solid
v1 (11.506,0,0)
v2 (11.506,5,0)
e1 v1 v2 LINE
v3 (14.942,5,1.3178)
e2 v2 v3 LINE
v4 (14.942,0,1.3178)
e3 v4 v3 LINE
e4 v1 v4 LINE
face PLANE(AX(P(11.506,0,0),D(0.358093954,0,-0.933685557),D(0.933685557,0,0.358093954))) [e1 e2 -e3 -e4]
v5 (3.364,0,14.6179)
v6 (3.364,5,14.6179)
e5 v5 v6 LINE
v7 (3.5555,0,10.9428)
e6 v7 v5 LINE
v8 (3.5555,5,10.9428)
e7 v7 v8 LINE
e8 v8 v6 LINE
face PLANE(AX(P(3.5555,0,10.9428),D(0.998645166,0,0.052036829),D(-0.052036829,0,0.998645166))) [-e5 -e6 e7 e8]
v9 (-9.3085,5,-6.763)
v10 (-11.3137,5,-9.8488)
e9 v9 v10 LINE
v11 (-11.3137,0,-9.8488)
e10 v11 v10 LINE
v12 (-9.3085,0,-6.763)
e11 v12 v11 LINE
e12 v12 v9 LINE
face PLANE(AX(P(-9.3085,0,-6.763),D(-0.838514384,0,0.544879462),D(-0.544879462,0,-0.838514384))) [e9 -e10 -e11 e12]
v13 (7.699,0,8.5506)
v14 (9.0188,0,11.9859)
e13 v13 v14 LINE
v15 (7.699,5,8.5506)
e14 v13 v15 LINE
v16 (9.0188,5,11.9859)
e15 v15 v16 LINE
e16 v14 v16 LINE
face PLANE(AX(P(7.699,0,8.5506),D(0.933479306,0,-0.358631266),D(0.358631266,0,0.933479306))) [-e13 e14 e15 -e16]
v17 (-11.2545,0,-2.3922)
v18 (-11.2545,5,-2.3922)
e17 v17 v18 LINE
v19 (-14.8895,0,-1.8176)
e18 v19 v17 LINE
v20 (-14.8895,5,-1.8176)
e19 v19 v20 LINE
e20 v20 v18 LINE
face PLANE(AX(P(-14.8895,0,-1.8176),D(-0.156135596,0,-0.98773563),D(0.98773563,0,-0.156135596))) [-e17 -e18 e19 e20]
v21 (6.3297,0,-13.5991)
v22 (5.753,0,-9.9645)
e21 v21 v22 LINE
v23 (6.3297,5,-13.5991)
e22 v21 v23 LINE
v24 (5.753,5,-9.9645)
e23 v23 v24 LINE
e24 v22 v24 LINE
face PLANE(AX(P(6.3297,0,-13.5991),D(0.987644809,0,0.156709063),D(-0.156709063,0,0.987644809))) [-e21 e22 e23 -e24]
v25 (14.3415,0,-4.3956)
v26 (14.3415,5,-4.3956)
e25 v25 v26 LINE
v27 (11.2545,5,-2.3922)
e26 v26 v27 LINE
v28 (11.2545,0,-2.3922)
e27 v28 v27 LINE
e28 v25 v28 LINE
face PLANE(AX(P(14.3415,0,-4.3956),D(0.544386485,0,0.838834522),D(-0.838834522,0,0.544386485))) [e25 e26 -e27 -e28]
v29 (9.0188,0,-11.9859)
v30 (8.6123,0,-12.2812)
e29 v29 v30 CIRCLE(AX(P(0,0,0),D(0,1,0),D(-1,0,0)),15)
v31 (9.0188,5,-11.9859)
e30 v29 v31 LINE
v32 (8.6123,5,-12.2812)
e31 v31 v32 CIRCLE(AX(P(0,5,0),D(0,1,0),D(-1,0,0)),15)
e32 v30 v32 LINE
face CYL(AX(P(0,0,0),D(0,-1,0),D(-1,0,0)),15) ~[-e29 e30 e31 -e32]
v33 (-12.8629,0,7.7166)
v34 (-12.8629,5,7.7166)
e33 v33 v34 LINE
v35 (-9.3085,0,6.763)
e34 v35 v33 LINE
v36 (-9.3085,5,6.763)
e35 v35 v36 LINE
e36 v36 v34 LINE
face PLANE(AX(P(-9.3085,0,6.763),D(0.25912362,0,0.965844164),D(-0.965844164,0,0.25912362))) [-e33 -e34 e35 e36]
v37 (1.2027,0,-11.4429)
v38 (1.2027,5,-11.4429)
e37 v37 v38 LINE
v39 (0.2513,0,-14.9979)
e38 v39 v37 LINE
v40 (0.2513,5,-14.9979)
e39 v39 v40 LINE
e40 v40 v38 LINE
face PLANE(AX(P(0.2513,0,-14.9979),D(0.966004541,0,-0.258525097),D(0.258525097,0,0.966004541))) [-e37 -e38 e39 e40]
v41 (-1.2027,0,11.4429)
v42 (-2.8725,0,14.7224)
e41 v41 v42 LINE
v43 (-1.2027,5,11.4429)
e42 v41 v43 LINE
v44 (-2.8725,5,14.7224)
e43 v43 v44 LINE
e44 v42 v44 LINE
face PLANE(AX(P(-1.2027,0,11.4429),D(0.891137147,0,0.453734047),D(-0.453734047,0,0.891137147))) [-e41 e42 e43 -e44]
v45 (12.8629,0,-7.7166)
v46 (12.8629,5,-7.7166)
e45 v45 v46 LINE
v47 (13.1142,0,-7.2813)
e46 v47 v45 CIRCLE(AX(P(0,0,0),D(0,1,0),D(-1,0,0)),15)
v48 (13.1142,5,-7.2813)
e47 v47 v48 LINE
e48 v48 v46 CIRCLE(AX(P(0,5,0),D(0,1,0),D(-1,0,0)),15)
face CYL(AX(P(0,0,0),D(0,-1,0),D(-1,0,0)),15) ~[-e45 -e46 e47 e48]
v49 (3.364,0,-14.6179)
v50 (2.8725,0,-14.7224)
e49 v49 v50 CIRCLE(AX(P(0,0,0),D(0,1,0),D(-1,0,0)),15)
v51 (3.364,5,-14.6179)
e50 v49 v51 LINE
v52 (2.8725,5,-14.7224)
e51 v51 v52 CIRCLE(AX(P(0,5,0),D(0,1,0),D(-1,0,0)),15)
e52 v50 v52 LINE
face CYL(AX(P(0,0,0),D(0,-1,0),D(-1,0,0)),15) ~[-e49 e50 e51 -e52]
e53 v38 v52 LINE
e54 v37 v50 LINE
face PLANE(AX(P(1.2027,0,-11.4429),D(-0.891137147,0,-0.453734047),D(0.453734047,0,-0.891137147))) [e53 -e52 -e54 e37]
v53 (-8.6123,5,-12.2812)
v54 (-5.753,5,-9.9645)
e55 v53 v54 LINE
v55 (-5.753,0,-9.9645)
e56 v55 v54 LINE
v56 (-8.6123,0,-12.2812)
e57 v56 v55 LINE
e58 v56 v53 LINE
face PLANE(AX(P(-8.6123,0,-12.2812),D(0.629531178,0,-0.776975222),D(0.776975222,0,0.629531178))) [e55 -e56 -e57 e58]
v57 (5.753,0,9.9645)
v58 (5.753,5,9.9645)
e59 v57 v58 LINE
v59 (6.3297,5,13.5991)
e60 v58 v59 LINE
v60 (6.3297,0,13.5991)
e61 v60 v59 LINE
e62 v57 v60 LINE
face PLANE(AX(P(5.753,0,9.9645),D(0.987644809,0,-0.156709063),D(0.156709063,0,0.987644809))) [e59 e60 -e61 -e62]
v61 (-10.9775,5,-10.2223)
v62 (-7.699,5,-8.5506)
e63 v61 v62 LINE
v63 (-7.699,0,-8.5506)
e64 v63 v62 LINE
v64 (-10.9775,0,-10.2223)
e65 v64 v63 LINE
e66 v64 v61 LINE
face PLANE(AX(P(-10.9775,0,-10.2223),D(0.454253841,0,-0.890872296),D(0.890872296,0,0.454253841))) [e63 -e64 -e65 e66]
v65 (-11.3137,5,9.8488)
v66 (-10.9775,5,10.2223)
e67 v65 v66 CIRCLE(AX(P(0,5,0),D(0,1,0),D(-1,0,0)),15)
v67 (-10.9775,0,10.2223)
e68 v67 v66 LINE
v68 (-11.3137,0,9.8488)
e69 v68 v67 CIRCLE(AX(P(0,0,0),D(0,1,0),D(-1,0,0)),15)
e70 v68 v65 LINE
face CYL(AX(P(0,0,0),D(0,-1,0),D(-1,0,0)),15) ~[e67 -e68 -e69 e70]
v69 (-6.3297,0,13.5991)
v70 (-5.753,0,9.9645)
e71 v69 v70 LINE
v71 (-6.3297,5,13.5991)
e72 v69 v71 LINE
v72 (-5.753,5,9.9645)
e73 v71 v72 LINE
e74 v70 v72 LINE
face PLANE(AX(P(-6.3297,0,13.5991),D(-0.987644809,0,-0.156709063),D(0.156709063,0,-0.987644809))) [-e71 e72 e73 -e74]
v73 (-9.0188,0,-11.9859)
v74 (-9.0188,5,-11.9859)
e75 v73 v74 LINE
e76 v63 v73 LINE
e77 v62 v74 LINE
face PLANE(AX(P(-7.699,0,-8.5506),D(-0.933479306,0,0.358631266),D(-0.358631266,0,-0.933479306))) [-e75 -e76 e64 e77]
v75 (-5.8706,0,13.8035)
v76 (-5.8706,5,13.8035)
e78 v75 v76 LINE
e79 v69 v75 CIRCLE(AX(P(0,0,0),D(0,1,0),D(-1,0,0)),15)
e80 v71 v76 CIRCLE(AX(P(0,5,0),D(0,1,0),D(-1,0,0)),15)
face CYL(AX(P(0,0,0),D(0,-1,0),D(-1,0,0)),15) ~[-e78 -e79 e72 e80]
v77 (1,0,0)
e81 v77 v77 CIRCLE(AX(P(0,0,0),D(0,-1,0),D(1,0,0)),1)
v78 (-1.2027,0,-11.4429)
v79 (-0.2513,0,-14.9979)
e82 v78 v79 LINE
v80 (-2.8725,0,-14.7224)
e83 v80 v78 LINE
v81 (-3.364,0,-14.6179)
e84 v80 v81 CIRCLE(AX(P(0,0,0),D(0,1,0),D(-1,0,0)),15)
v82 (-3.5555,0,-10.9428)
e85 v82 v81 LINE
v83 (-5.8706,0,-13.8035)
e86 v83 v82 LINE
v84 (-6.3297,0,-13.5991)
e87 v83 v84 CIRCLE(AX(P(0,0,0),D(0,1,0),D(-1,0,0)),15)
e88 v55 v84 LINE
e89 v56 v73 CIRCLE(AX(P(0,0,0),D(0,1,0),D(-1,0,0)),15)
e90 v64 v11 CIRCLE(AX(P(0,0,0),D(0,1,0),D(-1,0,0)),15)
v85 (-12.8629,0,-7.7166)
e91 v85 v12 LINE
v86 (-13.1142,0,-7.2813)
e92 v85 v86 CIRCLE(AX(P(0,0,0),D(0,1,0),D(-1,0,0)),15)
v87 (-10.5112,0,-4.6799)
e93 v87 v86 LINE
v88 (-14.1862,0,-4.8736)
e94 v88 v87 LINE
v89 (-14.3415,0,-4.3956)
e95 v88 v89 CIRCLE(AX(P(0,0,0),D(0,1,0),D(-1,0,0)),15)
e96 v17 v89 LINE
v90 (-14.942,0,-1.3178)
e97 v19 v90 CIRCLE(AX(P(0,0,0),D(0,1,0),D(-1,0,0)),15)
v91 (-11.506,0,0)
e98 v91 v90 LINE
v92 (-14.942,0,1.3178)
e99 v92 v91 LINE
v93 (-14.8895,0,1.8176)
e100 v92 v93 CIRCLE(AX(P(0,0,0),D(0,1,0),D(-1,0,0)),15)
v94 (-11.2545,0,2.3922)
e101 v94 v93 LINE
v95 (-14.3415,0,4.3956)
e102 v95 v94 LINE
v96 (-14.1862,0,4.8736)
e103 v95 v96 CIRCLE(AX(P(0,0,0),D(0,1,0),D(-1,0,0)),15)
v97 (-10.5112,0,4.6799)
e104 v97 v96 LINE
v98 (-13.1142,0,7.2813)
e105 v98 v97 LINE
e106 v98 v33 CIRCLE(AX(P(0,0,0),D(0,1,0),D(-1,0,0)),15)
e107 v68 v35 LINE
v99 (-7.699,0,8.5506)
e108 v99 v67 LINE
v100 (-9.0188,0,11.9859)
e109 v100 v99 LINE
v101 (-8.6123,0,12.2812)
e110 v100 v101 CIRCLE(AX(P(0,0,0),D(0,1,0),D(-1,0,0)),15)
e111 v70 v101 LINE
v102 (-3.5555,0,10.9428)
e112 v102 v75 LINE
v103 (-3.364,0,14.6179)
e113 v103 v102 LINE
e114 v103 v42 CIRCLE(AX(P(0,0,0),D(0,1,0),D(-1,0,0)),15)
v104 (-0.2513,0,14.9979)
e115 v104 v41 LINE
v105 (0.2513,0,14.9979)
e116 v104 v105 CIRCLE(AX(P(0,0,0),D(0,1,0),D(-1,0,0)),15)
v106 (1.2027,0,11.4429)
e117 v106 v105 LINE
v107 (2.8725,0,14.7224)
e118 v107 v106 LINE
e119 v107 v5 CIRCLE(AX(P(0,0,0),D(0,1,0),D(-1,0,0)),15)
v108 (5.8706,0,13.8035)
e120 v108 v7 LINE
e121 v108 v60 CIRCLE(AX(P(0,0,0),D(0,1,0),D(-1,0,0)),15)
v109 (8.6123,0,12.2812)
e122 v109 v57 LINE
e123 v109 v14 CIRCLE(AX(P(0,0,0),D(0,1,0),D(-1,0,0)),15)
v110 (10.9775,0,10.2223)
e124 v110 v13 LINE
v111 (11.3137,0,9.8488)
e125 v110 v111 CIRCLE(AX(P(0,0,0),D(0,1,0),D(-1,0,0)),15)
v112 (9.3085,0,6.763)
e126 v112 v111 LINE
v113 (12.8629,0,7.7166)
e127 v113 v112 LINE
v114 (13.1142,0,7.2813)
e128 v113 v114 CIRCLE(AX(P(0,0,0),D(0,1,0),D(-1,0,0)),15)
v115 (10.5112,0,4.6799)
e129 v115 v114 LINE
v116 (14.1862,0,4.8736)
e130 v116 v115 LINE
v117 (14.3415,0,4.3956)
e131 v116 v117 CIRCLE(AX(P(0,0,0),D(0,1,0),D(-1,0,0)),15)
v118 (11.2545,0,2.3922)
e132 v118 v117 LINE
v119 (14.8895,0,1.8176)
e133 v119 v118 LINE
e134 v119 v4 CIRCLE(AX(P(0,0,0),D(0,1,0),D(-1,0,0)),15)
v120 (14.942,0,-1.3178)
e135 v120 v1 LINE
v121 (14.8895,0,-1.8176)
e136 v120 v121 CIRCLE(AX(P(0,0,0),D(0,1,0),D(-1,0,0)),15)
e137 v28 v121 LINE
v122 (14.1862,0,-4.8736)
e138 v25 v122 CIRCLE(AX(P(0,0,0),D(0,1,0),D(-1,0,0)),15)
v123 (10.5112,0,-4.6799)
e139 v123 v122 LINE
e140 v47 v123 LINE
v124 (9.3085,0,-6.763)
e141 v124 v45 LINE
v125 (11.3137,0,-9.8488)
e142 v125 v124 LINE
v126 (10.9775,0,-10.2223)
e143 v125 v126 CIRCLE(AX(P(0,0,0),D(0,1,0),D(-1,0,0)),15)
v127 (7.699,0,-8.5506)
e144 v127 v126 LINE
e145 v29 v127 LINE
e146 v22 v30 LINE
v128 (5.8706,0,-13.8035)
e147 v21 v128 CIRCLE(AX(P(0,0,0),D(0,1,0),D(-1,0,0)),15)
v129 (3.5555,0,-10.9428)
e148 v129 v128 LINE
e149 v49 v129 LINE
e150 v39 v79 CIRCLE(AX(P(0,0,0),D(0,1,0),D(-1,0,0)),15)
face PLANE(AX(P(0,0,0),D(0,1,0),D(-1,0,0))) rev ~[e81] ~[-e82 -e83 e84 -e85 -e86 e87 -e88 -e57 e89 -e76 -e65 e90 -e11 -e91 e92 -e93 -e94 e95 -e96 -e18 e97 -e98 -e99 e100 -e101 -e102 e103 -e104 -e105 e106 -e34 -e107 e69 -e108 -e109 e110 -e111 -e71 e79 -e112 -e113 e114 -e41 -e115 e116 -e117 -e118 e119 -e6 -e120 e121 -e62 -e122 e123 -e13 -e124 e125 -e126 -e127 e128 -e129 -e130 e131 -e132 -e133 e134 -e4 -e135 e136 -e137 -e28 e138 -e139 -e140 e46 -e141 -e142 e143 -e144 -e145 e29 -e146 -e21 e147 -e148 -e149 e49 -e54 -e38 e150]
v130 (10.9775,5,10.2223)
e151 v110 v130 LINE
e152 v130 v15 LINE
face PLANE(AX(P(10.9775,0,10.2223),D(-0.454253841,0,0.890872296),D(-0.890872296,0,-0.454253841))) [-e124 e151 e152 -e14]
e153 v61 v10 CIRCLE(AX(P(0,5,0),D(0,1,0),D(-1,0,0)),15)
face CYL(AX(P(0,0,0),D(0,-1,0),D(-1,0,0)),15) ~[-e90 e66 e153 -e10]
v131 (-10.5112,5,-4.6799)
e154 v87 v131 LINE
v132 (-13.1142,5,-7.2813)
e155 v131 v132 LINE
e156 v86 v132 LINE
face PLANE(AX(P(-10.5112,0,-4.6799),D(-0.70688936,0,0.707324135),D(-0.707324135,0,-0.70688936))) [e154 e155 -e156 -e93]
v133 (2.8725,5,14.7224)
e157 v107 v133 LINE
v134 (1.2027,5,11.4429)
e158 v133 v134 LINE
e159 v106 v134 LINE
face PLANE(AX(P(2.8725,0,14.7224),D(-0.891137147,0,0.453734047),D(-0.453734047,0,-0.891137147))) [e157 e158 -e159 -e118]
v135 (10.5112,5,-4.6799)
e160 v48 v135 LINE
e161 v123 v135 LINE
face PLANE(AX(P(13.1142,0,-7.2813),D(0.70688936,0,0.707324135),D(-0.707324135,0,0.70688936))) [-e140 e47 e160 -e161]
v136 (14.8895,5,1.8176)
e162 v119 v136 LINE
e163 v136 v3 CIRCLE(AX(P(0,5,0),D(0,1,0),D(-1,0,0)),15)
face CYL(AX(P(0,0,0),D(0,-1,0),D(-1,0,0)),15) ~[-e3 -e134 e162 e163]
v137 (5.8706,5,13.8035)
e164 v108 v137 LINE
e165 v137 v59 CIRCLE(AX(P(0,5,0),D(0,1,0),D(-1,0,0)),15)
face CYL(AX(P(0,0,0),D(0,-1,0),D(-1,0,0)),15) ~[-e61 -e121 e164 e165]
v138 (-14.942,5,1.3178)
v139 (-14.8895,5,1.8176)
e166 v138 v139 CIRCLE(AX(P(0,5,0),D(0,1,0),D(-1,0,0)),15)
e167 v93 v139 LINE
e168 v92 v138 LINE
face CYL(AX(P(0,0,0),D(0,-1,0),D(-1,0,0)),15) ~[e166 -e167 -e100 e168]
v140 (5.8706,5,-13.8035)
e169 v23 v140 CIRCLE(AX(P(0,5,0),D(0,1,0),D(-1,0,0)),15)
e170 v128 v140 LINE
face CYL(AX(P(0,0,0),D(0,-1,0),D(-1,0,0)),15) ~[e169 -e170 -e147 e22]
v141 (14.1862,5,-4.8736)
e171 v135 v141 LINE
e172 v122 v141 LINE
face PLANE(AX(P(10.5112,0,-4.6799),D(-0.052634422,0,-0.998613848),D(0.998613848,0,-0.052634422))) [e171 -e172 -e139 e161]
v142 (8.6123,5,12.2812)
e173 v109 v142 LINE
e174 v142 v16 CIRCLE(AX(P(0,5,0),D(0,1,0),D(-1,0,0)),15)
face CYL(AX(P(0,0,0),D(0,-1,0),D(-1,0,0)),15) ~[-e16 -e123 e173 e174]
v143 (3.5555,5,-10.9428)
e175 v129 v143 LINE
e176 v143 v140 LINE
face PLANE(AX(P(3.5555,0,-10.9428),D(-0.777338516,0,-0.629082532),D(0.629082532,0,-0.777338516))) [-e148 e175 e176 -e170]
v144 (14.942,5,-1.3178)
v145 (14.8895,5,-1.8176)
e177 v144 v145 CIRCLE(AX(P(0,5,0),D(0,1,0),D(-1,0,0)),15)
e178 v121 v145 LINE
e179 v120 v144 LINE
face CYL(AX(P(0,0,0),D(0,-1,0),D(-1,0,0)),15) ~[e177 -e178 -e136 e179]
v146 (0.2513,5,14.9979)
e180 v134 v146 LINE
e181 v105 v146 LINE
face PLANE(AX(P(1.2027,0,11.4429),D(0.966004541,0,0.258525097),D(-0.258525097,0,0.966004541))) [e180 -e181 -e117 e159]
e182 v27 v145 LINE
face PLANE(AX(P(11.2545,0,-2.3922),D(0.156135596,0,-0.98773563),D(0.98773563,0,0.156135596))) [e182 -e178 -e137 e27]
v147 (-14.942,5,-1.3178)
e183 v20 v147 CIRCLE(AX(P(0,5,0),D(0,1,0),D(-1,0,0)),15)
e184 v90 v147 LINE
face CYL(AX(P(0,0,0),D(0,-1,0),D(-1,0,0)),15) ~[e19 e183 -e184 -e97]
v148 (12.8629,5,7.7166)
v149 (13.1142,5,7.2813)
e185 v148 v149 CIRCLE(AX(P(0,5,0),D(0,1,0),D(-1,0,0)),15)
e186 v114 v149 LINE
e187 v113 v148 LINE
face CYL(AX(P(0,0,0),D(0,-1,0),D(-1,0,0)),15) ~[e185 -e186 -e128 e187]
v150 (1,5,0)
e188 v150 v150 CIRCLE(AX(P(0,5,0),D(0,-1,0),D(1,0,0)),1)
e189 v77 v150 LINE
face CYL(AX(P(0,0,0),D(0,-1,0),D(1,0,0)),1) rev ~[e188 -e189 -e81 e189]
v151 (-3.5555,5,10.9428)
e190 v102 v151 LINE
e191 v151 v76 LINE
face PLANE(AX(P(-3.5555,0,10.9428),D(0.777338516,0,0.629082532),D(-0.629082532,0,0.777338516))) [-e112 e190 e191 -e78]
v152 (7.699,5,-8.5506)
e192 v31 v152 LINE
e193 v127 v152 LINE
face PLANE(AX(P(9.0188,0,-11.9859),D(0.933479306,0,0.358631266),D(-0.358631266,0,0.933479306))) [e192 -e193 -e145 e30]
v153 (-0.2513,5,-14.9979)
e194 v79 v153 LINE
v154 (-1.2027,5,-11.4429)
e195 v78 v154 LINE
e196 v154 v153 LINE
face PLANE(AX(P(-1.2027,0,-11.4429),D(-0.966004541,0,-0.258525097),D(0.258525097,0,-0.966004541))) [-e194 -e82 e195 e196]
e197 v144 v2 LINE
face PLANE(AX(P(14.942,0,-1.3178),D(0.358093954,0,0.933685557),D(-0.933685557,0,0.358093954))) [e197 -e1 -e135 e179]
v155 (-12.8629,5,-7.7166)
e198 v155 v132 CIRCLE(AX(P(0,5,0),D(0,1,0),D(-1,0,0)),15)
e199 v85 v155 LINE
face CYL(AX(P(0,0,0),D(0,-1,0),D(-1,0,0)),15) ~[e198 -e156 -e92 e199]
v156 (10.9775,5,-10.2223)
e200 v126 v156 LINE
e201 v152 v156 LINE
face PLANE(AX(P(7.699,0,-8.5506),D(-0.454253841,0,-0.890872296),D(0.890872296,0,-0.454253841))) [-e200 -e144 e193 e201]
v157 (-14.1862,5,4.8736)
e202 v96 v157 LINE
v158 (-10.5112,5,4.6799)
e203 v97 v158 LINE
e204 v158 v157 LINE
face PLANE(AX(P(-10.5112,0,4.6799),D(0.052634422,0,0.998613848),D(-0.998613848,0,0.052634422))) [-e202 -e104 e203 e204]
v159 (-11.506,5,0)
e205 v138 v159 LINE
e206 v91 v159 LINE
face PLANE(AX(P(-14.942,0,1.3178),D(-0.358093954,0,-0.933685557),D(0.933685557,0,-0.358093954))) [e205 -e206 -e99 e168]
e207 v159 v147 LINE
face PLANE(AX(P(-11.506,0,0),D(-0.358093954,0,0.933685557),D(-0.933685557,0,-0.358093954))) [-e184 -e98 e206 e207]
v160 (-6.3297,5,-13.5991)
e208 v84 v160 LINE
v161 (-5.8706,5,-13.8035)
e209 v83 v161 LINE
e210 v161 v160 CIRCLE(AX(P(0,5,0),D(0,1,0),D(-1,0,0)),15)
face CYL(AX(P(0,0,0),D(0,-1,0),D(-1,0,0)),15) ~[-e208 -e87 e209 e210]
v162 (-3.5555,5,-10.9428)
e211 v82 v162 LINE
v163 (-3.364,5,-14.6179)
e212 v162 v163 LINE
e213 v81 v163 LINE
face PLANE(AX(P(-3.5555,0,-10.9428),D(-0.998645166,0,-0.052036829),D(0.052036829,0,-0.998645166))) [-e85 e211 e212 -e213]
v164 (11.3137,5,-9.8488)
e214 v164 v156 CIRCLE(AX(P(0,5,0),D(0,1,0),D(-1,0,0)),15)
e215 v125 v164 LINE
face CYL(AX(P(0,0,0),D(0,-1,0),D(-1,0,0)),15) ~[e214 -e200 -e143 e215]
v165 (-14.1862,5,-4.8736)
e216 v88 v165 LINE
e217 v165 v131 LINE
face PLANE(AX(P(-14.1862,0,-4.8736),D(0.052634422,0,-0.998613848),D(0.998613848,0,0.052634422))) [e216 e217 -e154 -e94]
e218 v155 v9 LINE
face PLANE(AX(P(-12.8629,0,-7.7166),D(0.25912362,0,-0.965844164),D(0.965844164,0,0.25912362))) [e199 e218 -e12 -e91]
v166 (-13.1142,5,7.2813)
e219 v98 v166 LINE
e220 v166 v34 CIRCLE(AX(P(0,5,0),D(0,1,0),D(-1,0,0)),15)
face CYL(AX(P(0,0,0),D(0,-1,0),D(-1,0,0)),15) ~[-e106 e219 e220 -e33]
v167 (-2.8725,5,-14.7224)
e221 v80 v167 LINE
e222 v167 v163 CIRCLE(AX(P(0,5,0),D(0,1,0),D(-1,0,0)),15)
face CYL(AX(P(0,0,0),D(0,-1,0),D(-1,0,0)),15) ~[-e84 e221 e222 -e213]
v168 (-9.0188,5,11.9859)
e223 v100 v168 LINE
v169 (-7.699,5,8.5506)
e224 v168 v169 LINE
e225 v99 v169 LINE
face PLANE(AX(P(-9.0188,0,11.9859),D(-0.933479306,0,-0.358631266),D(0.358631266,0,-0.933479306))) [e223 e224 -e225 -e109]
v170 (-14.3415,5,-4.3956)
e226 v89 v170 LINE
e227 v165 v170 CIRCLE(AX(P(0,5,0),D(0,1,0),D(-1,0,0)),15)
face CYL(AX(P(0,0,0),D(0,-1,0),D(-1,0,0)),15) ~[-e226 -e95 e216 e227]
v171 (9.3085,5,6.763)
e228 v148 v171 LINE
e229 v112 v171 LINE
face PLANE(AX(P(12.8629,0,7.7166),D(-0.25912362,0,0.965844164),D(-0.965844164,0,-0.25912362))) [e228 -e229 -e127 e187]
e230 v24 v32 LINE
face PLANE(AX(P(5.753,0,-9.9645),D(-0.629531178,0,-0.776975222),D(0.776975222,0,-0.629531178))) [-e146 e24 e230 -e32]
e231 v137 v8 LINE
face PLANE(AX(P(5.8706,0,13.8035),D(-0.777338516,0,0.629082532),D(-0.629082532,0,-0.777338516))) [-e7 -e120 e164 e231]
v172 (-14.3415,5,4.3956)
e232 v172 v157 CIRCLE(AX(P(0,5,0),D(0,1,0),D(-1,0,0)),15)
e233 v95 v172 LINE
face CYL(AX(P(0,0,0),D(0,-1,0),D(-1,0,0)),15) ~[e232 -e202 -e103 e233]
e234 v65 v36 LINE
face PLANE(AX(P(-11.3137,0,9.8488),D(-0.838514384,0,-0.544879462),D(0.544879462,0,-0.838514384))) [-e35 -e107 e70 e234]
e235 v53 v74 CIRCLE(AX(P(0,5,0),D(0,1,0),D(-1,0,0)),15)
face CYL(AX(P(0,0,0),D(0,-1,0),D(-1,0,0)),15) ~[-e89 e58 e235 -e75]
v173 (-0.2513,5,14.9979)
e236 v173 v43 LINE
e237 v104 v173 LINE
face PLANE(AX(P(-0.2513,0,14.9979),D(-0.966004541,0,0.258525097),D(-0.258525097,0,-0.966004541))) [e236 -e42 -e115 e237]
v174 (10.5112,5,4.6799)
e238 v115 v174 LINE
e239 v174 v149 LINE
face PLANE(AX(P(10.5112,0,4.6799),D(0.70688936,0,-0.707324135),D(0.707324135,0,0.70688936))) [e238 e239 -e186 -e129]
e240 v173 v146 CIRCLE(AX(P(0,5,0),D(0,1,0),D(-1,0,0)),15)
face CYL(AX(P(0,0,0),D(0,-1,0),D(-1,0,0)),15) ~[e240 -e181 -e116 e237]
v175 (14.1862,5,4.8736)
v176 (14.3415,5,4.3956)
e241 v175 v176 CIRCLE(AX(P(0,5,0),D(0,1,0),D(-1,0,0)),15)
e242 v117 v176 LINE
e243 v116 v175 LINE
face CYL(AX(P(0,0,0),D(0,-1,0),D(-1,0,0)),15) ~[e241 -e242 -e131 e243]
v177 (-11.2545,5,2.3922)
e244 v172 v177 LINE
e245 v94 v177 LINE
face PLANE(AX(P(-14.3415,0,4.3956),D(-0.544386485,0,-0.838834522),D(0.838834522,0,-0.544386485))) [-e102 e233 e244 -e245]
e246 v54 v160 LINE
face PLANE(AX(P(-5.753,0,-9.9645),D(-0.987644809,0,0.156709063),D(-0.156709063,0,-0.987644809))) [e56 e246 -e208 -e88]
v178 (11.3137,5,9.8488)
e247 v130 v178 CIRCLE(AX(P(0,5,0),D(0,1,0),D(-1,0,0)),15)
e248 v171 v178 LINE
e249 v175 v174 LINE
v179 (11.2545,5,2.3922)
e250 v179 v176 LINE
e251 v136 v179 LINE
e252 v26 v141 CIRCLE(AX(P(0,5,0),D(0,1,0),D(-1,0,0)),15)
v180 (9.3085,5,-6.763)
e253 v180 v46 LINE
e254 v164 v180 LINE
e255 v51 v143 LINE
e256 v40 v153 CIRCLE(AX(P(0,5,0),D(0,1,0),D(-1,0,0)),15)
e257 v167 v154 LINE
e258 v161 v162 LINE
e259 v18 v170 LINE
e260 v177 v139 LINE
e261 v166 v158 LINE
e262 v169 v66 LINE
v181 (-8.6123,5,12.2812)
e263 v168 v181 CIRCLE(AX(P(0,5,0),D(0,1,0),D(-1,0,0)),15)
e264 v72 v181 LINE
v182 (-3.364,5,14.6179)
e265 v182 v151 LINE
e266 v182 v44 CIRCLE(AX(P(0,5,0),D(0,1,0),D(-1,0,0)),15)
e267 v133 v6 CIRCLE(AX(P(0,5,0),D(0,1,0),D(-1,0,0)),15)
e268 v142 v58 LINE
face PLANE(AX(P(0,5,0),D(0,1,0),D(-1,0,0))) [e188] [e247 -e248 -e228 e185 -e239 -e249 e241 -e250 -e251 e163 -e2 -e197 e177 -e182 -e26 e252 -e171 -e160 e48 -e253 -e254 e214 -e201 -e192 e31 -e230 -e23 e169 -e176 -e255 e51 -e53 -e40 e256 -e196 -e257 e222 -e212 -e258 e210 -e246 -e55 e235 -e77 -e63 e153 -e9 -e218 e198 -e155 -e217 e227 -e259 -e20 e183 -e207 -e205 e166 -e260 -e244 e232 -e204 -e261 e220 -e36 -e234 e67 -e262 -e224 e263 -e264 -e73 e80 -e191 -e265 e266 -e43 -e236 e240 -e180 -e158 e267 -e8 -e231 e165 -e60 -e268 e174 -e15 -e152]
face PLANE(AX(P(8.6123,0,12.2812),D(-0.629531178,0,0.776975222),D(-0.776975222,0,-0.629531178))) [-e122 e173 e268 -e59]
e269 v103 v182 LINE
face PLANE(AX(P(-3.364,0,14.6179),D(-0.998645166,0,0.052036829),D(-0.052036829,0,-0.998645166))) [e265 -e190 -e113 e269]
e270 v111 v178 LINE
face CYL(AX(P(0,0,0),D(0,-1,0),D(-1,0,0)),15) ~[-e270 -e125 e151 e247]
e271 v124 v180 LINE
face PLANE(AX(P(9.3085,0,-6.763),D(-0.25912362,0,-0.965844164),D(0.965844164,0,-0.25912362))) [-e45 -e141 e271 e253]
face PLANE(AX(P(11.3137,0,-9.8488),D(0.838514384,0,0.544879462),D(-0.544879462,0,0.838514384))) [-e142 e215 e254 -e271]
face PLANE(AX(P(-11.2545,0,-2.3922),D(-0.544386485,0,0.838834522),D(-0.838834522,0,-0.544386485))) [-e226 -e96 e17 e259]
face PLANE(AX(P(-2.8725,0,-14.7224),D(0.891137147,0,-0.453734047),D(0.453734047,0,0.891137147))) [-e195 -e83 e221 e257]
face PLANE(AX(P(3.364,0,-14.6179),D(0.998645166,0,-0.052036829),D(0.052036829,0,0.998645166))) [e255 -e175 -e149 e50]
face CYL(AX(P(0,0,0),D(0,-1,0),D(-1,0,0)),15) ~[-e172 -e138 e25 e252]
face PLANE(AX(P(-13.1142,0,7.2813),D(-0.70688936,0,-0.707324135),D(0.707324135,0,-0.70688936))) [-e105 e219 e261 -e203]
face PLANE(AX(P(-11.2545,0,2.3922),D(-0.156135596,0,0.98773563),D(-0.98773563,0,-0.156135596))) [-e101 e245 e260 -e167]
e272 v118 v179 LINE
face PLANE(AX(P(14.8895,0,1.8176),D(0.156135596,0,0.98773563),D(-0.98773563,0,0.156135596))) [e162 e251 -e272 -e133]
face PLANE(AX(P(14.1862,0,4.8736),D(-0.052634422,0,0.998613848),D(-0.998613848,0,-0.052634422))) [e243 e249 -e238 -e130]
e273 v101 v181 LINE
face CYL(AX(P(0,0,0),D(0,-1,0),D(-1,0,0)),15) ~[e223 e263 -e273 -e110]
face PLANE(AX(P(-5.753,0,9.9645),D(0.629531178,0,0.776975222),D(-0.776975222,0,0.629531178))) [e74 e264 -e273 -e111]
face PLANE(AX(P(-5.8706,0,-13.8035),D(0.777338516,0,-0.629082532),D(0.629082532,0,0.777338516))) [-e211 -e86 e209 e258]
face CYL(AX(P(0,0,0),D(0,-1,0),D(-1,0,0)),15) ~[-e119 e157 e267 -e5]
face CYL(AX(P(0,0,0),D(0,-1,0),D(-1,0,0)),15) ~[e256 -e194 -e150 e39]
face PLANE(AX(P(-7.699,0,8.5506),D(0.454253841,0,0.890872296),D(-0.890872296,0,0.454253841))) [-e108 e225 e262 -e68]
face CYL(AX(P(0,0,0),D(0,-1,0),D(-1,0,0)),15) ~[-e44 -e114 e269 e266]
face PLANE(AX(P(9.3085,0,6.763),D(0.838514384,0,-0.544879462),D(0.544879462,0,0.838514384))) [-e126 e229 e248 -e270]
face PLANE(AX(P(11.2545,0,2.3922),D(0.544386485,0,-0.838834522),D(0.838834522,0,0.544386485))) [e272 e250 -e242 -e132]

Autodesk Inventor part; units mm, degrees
ref_plane "YZ Plane" through (0, 0, 0) normal (1, 0, 0) x (0, 1, 0)
ref_plane "XZ Plane" through (0, 0, 0) normal (0, 1, 0) x (-1, 0, 0)
ref_plane "XY Plane" through (0, 0, 0) normal (0, 0, 1) x (1, 0, 0)
sketch "Sketch1" plane through (0, 0, 0) normal (0, 1, 0) x (-1, 0, 0)
  circle A0 centre (0, 0) radius 15
  line L0 (14.942, 1.3178) -> (11.506, 0)
  line L1 (11.506, 0) -> (14.942, -1.3178)
  line L2 (14.3415, 4.3956) -> (11.2545, 2.3922)
  line L3 (11.2545, 2.3922) -> (14.8895, 1.8176)
  line L4 (13.1142, 7.2813) -> (10.5112, 4.6799)
  line L5 (10.5112, 4.6799) -> (14.1862, 4.8736)
  line L6 (11.3137, 9.8488) -> (9.3085, 6.763)
  line L7 (9.3085, 6.763) -> (12.8629, 7.7166)
  line L8 (9.0188, 11.9859) -> (7.699, 8.5506)
  line L9 (7.699, 8.5506) -> (10.9775, 10.2223)
  line L10 (6.3297, 13.5991) -> (5.753, 9.9645)
  line L11 (5.753, 9.9645) -> (8.6123, 12.2812)
  line L12 (3.364, 14.6179) -> (3.5555, 10.9428)
  line L13 (3.5555, 10.9428) -> (5.8706, 13.8035)
  line L14 (0.2513, 14.9979) -> (1.2027, 11.4429)
  line L15 (1.2027, 11.4429) -> (2.8725, 14.7224)
  line L16 (-2.8725, 14.7224) -> (-1.2027, 11.4429)
  line L17 (-1.2027, 11.4429) -> (-0.2513, 14.9979)
  line L18 (-5.8706, 13.8035) -> (-3.5555, 10.9428)
  line L19 (-3.5555, 10.9428) -> (-3.364, 14.6179)
  line L20 (-8.6123, 12.2812) -> (-5.753, 9.9645)
  line L21 (-5.753, 9.9645) -> (-6.3297, 13.5991)
  line L22 (-10.9775, 10.2223) -> (-7.699, 8.5506)
  line L23 (-7.699, 8.5506) -> (-9.0188, 11.9859)
  line L24 (-12.8629, 7.7166) -> (-9.3085, 6.763)
  line L25 (-9.3085, 6.763) -> (-11.3137, 9.8488)
  line L26 (-14.1862, 4.8736) -> (-10.5112, 4.6799)
  line L27 (-10.5112, 4.6799) -> (-13.1142, 7.2813)
  line L28 (-14.8895, 1.8176) -> (-11.2545, 2.3922)
  line L29 (-11.2545, 2.3922) -> (-14.3415, 4.3956)
  line L30 (-14.942, -1.3178) -> (-11.506, 0)
  line L31 (-11.506, 0) -> (-14.942, 1.3178)
  line L32 (-14.3415, -4.3956) -> (-11.2545, -2.3922)
  line L33 (-11.2545, -2.3922) -> (-14.8895, -1.8176)
  line L34 (-13.1142, -7.2813) -> (-10.5112, -4.6799)
  line L35 (-10.5112, -4.6799) -> (-14.1862, -4.8736)
  line L36 (-11.3137, -9.8488) -> (-9.3085, -6.763)
  line L37 (-9.3085, -6.763) -> (-12.8629, -7.7166)
  line L38 (-9.0188, -11.9859) -> (-7.699, -8.5506)
  line L39 (-7.699, -8.5506) -> (-10.9775, -10.2223)
  line L40 (-6.3297, -13.5991) -> (-5.753, -9.9645)
  line L41 (-5.753, -9.9645) -> (-8.6123, -12.2812)
  line L42 (-3.364, -14.6179) -> (-3.5555, -10.9428)
  line L43 (-3.5555, -10.9428) -> (-5.8706, -13.8035)
  line L44 (-0.2513, -14.9979) -> (-1.2027, -11.4429)
  line L45 (-1.2027, -11.4429) -> (-2.8725, -14.7224)
  line L46 (2.8725, -14.7224) -> (1.2027, -11.4429)
  line L47 (1.2027, -11.4429) -> (0.2513, -14.9979)
  line L48 (5.8706, -13.8035) -> (3.5555, -10.9428)
  line L49 (3.5555, -10.9428) -> (3.364, -14.6179)
  line L50 (8.6123, -12.2812) -> (5.753, -9.9645)
  line L51 (5.753, -9.9645) -> (6.3297, -13.5991)
  line L52 (10.9775, -10.2223) -> (7.699, -8.5506)
  line L53 (7.699, -8.5506) -> (9.0188, -11.9859)
  line L54 (12.8629, -7.7166) -> (9.3085, -6.763)
  line L55 (9.3085, -6.763) -> (11.3137, -9.8488)
  line L56 (14.1862, -4.8736) -> (10.5112, -4.6799)
  line L57 (10.5112, -4.6799) -> (13.1142, -7.2813)
  line L58 (14.8895, -1.8176) -> (11.2545, -2.3922)
  line L59 (11.2545, -2.3922) -> (14.3415, -4.3956)
  dimension "d0" = 30
  dimension "d3" = 360
extrude "Extrusion1" add sketch "Sketch1" along normal blind 5 contours L0 L1 A0 L58 L59 L56 L57 L54 L55 L52 L53 L50 L51 L48 L49 L46 L47 L44 L45 L42 L43 L40 L41 L38 L39 L36 L37 L34 L35 L32 L33 L30 L31 L28 L29 L26 L27 L24 L25 L22 L23 L20 L21 L18 L19 L16 L17 L14 L15 L12 L13 L10 L11 L8 L9 L6 L7 L4 L5 L2 L3
sketch "Sketch4" plane through (0, 0, 0) normal (0, -1, 0) x (1, 0, 0)
  circle A0 centre (0, 0) radius 1
  dimension "d17" = 2
extrude "Extrusion4" cut sketch "Sketch4" against normal blind 10
properties part number "30ToothGear"
